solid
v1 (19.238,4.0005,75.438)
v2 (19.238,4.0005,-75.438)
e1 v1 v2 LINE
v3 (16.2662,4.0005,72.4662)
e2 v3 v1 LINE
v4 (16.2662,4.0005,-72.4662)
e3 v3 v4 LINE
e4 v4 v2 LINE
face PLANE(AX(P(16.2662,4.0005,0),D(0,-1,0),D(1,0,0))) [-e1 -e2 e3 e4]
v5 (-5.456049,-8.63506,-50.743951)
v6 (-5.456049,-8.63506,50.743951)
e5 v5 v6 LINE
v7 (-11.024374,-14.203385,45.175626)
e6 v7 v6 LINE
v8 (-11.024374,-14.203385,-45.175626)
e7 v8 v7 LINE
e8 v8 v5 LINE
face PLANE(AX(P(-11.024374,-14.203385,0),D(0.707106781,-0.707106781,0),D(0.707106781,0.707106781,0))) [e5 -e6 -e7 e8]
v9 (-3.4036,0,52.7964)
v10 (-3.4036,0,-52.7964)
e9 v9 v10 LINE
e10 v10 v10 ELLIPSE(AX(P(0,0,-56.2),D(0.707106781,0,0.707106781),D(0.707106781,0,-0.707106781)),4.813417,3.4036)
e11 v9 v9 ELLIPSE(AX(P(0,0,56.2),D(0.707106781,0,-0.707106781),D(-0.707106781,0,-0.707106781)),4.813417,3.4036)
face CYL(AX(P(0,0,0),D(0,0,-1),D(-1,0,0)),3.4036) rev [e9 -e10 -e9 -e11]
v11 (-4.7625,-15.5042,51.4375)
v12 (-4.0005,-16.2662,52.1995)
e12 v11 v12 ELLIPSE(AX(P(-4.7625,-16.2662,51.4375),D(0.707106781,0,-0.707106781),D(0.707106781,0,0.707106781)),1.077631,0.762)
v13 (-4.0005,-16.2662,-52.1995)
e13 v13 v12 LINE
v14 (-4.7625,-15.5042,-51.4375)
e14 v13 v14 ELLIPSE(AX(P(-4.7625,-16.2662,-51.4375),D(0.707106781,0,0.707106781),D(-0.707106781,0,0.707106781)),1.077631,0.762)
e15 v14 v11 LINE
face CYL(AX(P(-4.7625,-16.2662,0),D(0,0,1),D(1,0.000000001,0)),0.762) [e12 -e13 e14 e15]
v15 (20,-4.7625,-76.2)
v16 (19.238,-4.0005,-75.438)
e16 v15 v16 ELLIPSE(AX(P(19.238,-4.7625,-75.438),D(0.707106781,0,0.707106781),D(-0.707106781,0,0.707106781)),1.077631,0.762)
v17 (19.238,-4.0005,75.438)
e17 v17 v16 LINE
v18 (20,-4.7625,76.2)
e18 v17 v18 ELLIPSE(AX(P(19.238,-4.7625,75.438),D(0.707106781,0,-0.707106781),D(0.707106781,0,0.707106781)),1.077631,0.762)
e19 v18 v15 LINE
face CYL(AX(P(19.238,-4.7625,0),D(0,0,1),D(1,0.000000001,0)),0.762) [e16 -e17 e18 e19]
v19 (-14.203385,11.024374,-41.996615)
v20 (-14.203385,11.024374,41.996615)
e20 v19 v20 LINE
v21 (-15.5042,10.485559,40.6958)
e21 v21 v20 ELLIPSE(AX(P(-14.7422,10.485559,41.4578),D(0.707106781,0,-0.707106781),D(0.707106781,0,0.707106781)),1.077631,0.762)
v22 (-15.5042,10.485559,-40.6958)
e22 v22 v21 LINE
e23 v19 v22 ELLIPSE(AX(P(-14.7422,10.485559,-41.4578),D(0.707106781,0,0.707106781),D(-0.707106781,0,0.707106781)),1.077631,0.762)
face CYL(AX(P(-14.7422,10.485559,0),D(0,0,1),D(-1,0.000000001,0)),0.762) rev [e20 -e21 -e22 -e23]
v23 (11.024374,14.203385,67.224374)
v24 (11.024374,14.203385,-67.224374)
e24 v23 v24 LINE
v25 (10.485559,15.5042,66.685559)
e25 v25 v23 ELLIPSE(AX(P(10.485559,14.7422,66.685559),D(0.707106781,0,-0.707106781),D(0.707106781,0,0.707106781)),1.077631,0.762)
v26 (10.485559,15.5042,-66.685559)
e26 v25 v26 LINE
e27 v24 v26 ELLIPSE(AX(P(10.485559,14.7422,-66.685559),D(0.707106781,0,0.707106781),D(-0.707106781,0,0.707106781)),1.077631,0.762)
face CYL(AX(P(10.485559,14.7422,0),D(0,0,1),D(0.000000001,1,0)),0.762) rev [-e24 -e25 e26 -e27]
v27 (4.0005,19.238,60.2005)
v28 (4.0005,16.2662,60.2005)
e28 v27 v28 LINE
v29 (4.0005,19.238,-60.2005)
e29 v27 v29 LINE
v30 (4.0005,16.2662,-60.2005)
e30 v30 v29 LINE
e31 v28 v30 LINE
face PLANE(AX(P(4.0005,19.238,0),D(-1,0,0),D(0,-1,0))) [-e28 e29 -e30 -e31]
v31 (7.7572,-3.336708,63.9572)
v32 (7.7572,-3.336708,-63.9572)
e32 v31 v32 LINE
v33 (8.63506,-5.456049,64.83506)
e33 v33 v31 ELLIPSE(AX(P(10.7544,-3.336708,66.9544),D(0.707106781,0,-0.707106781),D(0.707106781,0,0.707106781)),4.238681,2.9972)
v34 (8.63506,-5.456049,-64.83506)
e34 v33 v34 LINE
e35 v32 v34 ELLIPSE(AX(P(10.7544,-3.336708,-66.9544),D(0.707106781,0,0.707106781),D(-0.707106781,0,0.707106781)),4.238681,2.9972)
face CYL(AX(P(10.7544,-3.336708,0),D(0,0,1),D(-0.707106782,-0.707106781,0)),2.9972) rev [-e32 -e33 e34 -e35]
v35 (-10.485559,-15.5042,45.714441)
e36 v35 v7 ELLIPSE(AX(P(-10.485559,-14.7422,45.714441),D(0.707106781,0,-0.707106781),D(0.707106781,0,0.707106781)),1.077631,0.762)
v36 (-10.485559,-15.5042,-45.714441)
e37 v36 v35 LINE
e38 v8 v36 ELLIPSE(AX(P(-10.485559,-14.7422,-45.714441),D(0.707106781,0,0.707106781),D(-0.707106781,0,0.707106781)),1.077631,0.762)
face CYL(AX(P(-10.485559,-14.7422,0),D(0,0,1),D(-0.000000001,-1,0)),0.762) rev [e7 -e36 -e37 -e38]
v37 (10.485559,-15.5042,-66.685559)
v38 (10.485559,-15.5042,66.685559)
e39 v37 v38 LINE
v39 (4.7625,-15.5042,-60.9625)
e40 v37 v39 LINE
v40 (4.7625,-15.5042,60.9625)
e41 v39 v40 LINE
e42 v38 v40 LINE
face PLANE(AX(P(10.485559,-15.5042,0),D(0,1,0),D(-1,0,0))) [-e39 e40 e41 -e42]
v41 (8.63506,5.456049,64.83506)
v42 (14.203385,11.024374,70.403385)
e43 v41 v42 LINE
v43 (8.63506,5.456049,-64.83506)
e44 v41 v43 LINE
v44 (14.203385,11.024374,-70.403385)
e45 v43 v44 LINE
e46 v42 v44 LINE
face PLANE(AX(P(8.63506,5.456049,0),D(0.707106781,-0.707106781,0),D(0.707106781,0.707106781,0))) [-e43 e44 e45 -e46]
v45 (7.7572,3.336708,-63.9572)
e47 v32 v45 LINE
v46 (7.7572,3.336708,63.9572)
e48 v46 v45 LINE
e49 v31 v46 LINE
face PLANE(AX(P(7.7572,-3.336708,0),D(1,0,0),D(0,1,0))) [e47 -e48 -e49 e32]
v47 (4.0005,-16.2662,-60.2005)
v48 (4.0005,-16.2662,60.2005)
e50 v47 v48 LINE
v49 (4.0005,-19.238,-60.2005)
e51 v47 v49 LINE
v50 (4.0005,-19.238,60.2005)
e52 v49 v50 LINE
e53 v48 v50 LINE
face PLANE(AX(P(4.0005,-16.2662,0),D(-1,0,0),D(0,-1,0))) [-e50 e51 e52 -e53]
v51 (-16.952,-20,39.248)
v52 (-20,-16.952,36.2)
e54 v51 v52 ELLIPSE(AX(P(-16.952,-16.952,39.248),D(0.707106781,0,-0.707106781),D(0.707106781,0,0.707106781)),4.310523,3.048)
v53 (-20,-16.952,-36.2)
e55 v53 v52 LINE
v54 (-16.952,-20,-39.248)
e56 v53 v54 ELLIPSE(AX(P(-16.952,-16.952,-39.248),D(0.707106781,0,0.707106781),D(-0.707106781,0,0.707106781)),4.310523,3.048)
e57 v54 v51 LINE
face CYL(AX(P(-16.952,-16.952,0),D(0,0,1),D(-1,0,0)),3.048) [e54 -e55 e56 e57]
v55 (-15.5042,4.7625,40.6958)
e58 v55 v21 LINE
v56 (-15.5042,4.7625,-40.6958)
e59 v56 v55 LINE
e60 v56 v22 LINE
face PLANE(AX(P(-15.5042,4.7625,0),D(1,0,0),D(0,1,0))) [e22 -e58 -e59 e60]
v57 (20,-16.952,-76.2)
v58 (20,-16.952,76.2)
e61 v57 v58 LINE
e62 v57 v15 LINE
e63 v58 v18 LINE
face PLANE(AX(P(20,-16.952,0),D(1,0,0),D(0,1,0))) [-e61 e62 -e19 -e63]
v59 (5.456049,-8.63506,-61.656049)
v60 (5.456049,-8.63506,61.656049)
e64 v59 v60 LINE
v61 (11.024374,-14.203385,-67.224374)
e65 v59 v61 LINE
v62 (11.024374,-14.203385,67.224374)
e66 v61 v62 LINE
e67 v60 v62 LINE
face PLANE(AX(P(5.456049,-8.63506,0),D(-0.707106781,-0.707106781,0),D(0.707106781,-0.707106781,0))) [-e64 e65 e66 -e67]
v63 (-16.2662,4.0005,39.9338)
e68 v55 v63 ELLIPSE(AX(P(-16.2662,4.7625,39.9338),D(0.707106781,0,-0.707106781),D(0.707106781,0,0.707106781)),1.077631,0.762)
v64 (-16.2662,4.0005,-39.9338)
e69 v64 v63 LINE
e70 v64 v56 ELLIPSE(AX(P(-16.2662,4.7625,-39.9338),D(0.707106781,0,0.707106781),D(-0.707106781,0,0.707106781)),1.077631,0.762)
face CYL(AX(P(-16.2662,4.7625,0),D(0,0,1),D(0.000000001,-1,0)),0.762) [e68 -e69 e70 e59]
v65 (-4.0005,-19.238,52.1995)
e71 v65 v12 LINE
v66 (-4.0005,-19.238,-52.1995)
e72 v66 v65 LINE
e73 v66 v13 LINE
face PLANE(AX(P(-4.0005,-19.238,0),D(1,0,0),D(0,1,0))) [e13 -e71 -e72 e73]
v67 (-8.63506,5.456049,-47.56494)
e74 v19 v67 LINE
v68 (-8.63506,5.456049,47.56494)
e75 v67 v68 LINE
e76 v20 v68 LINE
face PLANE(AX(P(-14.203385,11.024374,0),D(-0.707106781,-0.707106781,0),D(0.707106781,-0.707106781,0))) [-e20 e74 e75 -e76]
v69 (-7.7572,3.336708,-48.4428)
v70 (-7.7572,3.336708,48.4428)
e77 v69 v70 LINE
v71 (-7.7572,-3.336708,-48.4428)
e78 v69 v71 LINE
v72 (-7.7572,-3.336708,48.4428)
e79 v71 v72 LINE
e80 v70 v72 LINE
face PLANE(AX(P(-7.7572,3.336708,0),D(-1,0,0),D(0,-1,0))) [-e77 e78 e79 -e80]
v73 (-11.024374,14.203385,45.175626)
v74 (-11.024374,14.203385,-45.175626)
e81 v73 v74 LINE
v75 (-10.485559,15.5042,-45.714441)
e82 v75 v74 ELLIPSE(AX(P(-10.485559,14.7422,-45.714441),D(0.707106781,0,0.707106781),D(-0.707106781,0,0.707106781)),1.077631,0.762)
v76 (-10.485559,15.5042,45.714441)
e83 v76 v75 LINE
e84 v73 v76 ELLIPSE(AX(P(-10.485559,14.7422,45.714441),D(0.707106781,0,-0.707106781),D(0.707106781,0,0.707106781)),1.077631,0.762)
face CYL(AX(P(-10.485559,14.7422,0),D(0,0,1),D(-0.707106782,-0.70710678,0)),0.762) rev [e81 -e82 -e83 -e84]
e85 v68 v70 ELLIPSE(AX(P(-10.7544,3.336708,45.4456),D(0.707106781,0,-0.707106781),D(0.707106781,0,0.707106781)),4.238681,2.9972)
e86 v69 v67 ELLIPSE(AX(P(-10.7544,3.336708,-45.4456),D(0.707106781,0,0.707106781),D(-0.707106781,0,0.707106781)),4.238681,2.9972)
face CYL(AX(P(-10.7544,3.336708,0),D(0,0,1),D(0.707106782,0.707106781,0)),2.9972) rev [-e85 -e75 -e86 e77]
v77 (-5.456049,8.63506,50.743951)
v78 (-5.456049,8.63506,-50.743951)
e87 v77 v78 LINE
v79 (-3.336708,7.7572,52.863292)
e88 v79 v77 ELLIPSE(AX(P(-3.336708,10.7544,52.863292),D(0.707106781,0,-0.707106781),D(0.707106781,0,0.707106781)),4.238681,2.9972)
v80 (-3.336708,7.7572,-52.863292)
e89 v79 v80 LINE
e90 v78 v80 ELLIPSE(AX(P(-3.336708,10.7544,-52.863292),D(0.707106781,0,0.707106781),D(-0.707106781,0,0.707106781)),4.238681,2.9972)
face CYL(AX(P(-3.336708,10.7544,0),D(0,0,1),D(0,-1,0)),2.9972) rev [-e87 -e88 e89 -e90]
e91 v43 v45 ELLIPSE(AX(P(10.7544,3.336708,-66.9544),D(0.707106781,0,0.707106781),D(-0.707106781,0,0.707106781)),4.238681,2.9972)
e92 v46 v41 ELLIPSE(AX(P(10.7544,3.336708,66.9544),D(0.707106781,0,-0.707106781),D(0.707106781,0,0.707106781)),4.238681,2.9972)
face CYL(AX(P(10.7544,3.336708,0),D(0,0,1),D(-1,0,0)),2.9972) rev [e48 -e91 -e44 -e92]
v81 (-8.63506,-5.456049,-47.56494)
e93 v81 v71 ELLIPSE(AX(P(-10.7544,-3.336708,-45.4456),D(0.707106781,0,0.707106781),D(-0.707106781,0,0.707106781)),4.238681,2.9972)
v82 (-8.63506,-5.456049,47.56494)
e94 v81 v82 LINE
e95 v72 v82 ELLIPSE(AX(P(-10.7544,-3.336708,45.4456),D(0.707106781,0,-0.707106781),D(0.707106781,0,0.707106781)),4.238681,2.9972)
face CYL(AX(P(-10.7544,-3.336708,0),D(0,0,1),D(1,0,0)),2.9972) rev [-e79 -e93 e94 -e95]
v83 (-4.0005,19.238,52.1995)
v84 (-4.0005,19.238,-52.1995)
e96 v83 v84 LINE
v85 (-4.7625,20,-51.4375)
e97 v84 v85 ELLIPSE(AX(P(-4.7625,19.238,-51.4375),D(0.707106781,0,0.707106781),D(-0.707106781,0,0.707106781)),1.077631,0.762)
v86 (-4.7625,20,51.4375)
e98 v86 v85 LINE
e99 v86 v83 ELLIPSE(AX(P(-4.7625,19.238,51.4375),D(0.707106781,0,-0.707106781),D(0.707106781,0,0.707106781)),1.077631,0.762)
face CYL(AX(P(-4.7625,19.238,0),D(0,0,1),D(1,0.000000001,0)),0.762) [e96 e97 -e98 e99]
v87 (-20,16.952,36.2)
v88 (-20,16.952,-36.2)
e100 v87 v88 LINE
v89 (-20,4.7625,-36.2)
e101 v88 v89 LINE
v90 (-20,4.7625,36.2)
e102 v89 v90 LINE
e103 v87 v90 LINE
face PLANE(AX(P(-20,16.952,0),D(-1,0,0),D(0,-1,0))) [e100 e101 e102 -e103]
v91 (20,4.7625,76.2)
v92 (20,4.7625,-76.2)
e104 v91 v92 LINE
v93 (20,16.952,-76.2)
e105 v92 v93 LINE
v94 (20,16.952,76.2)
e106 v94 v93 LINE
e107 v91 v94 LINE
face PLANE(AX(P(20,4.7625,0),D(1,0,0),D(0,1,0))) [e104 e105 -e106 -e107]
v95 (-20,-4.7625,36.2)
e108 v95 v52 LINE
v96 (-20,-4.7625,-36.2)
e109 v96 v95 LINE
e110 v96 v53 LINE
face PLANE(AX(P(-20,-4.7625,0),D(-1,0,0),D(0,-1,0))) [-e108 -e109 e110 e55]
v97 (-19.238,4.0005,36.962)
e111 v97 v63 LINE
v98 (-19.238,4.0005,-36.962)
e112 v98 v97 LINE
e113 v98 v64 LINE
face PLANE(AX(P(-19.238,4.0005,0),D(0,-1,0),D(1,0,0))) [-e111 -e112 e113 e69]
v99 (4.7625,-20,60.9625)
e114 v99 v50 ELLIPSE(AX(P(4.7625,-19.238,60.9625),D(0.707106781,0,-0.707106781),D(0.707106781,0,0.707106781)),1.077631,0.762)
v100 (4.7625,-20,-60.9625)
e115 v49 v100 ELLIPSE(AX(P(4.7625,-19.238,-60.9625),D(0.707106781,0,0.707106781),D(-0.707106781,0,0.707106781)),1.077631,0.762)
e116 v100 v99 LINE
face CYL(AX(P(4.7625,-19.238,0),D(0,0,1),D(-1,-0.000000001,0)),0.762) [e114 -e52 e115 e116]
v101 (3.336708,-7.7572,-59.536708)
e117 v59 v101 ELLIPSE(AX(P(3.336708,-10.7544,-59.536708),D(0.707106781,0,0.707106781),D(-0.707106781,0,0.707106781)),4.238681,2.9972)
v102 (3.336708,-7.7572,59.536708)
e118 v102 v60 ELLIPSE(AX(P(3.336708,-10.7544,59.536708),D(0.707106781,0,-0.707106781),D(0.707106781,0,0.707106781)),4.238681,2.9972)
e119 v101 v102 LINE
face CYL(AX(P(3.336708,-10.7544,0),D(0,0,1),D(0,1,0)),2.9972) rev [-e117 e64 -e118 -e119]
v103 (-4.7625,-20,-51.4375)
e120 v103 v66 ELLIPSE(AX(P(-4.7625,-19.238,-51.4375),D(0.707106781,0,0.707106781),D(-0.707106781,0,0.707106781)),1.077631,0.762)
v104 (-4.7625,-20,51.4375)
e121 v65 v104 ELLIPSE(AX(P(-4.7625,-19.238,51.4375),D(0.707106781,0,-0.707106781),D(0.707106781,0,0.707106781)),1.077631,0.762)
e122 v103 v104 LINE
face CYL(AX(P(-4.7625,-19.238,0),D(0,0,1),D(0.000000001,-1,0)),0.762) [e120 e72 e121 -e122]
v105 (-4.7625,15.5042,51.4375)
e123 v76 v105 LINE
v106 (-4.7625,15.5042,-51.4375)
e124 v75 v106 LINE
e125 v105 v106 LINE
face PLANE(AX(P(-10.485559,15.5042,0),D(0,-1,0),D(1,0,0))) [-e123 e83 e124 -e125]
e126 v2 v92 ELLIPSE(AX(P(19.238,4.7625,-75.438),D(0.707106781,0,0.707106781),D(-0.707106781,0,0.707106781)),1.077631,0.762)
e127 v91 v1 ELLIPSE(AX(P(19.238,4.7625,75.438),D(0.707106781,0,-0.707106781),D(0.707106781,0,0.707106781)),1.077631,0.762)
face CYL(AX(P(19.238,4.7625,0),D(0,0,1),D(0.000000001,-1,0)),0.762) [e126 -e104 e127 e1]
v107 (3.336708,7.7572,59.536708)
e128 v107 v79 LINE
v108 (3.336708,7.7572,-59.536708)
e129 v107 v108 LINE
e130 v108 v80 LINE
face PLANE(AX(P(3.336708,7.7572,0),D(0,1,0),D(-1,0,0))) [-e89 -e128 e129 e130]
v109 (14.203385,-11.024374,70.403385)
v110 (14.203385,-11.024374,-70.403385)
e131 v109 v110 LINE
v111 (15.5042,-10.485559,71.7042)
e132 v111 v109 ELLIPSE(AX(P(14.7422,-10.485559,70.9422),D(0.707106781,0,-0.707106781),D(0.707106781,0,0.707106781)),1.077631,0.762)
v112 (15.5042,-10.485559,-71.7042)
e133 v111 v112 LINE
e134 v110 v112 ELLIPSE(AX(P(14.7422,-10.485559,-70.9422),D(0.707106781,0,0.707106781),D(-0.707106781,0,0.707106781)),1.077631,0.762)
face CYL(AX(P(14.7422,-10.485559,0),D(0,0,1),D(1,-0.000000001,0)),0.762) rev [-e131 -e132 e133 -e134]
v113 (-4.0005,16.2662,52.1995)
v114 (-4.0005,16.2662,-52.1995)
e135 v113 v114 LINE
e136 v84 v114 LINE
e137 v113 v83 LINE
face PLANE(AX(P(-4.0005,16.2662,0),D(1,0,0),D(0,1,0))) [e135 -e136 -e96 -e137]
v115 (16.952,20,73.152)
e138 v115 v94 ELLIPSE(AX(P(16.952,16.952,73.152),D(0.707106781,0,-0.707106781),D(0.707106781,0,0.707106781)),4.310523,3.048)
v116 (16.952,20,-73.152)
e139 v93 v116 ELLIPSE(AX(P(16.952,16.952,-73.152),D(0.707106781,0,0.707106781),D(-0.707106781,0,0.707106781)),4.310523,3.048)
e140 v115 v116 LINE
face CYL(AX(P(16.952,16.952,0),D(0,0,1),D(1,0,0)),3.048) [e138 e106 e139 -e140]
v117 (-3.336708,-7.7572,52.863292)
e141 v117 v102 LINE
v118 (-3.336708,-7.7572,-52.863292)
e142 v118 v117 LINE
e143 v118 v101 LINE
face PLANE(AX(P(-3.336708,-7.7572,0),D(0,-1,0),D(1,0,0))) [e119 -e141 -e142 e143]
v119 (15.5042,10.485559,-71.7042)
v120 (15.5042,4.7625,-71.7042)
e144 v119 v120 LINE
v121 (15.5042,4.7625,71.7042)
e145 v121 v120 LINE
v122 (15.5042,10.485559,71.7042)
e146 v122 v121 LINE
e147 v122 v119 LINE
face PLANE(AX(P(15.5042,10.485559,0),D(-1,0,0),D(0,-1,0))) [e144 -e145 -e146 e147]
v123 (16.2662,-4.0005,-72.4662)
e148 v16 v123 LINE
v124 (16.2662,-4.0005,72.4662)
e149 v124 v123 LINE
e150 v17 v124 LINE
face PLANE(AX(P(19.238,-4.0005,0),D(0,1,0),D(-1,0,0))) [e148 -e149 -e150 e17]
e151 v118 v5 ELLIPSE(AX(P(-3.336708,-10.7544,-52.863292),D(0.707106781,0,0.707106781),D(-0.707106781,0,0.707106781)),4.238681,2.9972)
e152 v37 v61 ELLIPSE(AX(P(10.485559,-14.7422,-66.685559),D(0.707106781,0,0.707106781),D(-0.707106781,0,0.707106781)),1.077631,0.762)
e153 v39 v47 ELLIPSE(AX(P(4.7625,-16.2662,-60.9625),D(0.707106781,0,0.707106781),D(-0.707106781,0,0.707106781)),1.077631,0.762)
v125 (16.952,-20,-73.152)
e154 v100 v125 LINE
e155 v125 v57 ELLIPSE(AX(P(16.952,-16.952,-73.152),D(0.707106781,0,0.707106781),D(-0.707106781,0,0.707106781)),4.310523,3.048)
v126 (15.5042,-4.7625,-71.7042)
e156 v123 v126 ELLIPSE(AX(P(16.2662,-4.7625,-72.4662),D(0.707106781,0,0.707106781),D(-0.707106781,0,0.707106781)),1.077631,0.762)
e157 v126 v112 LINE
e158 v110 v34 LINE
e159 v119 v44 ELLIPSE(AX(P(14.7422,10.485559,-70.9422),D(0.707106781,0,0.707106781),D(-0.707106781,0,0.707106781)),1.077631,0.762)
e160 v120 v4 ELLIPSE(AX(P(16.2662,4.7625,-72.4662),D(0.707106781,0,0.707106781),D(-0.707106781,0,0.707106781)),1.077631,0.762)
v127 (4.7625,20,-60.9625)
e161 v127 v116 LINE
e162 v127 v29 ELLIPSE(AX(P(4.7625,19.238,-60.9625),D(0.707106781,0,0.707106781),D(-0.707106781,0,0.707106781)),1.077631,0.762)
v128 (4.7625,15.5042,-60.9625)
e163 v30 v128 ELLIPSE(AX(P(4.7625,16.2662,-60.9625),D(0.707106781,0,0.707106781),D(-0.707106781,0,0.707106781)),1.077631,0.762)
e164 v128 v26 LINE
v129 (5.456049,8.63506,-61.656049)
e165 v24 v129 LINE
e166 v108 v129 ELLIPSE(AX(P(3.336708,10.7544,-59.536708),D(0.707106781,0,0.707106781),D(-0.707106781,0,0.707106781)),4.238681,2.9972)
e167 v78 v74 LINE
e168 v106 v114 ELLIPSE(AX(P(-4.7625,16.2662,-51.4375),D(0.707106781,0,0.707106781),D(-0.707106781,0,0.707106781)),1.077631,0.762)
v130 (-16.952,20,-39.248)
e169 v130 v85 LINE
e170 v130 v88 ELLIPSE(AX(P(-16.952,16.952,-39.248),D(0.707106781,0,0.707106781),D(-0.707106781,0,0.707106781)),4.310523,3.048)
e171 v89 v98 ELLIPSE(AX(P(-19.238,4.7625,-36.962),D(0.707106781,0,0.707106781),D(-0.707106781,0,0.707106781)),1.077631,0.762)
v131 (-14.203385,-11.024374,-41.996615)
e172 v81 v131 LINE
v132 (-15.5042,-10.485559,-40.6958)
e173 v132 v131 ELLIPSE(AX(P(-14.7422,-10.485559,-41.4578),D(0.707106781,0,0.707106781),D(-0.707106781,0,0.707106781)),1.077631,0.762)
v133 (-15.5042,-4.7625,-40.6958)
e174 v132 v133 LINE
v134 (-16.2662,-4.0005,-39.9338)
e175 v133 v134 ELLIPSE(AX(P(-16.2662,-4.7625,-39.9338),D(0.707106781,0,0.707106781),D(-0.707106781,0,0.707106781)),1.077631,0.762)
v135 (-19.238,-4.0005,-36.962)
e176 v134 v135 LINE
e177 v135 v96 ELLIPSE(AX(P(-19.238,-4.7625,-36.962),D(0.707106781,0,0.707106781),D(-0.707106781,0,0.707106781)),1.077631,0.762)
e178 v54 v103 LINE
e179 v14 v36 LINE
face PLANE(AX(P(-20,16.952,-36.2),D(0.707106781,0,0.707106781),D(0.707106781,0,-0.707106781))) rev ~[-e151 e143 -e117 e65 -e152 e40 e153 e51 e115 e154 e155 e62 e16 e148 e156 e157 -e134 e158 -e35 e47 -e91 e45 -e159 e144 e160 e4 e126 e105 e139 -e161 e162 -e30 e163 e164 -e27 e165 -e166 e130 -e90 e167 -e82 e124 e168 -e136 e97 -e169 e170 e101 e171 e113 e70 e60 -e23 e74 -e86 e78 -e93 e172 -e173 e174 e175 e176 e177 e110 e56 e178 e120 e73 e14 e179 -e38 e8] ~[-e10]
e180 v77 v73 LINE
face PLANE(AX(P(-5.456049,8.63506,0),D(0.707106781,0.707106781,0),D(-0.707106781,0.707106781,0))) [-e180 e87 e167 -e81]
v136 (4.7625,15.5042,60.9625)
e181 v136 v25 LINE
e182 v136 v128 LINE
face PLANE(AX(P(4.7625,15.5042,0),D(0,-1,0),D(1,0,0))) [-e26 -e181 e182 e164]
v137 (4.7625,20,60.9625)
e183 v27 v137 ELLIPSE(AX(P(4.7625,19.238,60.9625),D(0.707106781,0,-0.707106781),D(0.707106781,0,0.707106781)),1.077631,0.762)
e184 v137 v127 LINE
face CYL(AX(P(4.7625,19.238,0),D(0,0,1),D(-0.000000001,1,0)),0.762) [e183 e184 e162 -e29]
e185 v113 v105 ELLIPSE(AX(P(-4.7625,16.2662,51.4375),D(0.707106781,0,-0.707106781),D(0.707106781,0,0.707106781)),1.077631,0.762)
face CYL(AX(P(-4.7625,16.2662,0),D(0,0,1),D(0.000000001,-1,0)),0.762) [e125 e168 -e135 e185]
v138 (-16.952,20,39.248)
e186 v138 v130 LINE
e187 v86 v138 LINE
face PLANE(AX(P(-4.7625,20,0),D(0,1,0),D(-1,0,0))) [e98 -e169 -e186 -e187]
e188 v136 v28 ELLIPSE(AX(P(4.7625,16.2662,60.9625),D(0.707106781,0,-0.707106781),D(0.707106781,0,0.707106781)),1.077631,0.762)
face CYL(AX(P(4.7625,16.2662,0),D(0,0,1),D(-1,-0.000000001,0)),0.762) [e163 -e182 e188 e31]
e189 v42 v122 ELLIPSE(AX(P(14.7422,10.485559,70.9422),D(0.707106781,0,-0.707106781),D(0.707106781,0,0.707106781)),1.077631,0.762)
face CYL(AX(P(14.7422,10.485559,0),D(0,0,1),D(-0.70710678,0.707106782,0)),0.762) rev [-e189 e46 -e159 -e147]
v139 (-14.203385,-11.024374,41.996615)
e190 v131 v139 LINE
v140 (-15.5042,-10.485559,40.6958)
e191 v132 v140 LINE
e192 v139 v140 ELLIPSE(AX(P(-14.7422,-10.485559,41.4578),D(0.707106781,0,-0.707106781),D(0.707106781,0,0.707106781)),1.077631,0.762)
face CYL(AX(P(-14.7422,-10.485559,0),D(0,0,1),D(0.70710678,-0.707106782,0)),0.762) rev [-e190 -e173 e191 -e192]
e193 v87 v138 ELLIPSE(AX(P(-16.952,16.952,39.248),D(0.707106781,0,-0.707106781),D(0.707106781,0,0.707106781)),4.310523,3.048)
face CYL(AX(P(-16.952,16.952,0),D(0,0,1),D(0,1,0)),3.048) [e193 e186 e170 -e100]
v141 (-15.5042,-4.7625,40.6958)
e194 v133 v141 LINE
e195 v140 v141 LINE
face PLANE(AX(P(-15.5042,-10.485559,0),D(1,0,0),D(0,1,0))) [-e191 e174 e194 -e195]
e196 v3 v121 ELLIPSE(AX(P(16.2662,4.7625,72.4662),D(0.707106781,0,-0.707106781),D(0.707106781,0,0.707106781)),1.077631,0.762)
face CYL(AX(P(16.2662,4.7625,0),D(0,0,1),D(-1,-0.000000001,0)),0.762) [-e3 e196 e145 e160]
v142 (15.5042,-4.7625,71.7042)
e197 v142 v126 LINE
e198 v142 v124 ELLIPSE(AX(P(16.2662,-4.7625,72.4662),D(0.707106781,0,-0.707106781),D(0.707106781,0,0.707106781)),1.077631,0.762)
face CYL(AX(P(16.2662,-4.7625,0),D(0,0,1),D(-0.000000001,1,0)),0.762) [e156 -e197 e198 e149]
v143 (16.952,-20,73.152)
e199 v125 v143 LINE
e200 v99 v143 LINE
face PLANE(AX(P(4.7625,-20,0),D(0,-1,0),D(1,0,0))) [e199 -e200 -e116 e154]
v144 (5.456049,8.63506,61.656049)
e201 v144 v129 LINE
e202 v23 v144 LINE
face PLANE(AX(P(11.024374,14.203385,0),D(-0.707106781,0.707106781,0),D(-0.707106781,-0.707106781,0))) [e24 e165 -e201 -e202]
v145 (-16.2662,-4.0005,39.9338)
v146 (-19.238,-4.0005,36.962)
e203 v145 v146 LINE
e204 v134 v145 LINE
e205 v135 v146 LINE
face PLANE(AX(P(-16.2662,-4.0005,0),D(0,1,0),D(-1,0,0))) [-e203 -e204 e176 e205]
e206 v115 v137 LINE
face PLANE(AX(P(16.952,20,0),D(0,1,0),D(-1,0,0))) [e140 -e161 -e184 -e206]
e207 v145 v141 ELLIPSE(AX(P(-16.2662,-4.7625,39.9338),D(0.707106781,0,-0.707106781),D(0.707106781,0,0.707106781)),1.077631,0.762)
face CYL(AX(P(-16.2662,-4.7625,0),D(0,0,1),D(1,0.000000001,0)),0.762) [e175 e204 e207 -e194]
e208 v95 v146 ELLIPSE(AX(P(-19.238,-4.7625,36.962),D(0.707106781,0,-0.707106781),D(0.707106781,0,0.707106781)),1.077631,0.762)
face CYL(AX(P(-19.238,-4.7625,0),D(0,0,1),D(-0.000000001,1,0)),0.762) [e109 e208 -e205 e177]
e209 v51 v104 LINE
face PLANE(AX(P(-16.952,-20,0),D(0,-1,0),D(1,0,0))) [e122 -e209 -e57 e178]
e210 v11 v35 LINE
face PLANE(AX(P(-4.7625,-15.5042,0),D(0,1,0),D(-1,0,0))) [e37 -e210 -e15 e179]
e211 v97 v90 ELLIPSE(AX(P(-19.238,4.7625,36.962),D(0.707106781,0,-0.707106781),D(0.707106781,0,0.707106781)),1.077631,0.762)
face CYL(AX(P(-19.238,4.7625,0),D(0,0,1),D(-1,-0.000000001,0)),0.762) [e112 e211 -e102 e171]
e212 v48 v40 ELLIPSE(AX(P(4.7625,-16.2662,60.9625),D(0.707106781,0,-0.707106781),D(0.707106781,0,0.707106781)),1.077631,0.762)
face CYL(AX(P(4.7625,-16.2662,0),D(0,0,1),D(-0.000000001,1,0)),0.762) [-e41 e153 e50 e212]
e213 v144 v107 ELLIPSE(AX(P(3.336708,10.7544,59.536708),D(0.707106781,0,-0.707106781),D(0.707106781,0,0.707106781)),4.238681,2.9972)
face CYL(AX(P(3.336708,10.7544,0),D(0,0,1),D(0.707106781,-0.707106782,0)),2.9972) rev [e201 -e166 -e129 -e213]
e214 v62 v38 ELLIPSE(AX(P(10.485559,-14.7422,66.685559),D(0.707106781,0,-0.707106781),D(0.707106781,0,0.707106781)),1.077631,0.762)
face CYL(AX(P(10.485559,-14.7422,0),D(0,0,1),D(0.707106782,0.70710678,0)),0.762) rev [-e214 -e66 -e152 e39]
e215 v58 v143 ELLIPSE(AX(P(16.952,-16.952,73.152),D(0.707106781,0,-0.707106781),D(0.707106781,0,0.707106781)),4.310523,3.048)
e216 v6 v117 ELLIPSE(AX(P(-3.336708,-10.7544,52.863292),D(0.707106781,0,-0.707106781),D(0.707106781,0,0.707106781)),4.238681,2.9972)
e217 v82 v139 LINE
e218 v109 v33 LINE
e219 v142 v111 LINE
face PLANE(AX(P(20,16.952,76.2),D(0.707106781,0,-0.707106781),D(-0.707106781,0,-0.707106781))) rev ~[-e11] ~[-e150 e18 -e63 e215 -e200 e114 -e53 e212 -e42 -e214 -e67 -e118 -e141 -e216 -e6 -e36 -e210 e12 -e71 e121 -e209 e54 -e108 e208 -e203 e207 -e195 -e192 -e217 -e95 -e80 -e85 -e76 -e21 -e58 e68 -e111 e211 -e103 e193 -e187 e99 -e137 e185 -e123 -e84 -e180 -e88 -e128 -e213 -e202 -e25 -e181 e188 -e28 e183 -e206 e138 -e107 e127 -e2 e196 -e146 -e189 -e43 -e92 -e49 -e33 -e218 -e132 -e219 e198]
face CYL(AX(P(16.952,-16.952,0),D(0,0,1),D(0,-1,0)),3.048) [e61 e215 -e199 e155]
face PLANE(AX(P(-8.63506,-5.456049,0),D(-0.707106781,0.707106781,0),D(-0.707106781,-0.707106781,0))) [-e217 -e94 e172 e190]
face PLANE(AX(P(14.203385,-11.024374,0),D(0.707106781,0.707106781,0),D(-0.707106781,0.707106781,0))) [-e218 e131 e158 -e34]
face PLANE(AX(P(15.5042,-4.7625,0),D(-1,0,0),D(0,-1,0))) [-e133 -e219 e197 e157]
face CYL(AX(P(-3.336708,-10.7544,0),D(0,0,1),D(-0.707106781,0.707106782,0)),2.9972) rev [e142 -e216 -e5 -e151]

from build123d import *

# Parameters (mm, degrees)
SKETCH1_R          = 3.4036
EXTRUDE1_DEPTH     = 76.2
CUT_EXTRUDE1_DEPTH = 88.016609357
CUT_EXTRUDE2_DEPTH = 88.016609357
CUT_EXTRUDE3_REACH = 89.017
CUT_EXTRUDE5_DEPTH = 88.016609357


with BuildPart() as part:
    # Sketch1 → Extrude1 (new, symmetric)
    with BuildSketch(Plane.XY):
        with BuildLine():
            Line((-20, 16.952), (-20, 4.7625))
            ThreePointArc((-20, 4.7625), (-19.776815367, 4.223684633), (-19.238, 4.0005))
            Line((-19.238, 4.0005), (-16.2662, 4.0005))
            ThreePointArc((-16.2662, 4.0005), (-15.727384633, 4.223684633), (-15.5042, 4.7625))
            Line((-15.5042, 4.7625), (-15.5042, 10.485558599))
            ThreePointArc((-15.5042, 10.485558599), (-15.033804775, 11.189554802), (-14.203384633, 11.024373966))
            Line((-14.203384633, 11.024373966), (-8.635059555, 5.456048889))
            ThreePointArc((-8.635059555, 5.456048889), (-7.985348265, 4.483687227), (-7.7572, 3.336708444))
            Line((-7.7572, 3.336708444), (-7.7572, -3.336708444))
            ThreePointArc((-7.7572, -3.336708444), (-7.985348265, -4.483687227), (-8.635059555, -5.456048889))
            Line((-8.635059555, -5.456048889), (-14.203384633, -11.024373966))
            ThreePointArc((-14.203384633, -11.024373966), (-15.033804775, -11.189554802), (-15.5042, -10.485558599))
            Line((-15.5042, -10.485558599), (-15.5042, -4.7625))
            ThreePointArc((-15.5042, -4.7625), (-15.727384633, -4.223684633), (-16.2662, -4.0005))
            Line((-16.2662, -4.0005), (-19.238, -4.0005))
            ThreePointArc((-19.238, -4.0005), (-19.776815367, -4.223684633), (-20, -4.7625))
            Line((-20, -4.7625), (-20, -16.952))
            ThreePointArc((-20, -16.952), (-19.107261469, -19.107261469), (-16.952, -20))
            Line((-16.952, -20), (-4.7625, -20))
            ThreePointArc((-4.7625, -20), (-4.223684633, -19.776815367), (-4.0005, -19.238))
            Line((-4.0005, -19.238), (-4.0005, -16.2662))
            ThreePointArc((-4.0005, -16.2662), (-4.223684633, -15.727384633), (-4.7625, -15.5042))
            Line((-4.7625, -15.5042), (-10.485558599, -15.5042))
            ThreePointArc((-10.485558599, -15.5042), (-11.189554802, -15.033804775), (-11.024373966, -14.203384633))
            Line((-11.024373966, -14.203384633), (-5.456048889, -8.635059555))
            ThreePointArc((-5.456048889, -8.635059555), (-4.483687227, -7.985348265), (-3.336708444, -7.7572))
            Line((-3.336708444, -7.7572), (3.336708444, -7.7572))
            ThreePointArc((3.336708444, -7.7572), (4.483687227, -7.985348265), (5.456048889, -8.635059555))
            Line((5.456048889, -8.635059555), (11.024373966, -14.203384633))
            ThreePointArc((11.024373966, -14.203384633), (11.189554802, -15.033804775), (10.485558599, -15.5042))
            Line((10.485558599, -15.5042), (4.7625, -15.5042))
            ThreePointArc((4.7625, -15.5042), (4.223684633, -15.727384633), (4.0005, -16.2662))
            Line((4.0005, -16.2662), (4.0005, -19.238))
            ThreePointArc((4.0005, -19.238), (4.223684633, -19.776815367), (4.7625, -20))
            Line((4.7625, -20), (16.952, -20))
            ThreePointArc((16.952, -20), (19.107261469, -19.107261469), (20, -16.952))
            Line((20, -16.952), (20, -4.7625))
            ThreePointArc((20, -4.7625), (19.776815367, -4.223684633), (19.238, -4.0005))
            Line((19.238, -4.0005), (16.2662, -4.0005))
            ThreePointArc((16.2662, -4.0005), (15.727384633, -4.223684633), (15.5042, -4.7625))
            Line((15.5042, -4.7625), (15.5042, -10.485558599))
            ThreePointArc((15.5042, -10.485558599), (15.033804775, -11.189554802), (14.203384633, -11.024373966))
            Line((14.203384633, -11.024373966), (8.635059555, -5.456048889))
            ThreePointArc((8.635059555, -5.456048889), (7.985348265, -4.483687227), (7.7572, -3.336708444))
            Line((7.7572, -3.336708444), (7.7572, 3.336708444))
            ThreePointArc((7.7572, 3.336708444), (7.985348265, 4.483687227), (8.635059555, 5.456048889))
            Line((8.635059555, 5.456048889), (14.203384633, 11.024373966))
            ThreePointArc((14.203384633, 11.024373966), (15.033804775, 11.189554802), (15.5042, 10.485558599))
            Line((15.5042, 10.485558599), (15.5042, 4.7625))
            ThreePointArc((15.5042, 4.7625), (15.727384633, 4.223684633), (16.2662, 4.0005))
            Line((16.2662, 4.0005), (19.238, 4.0005))
            ThreePointArc((19.238, 4.0005), (19.776815367, 4.223684633), (20, 4.7625))
            Line((20, 4.7625), (20, 16.952))
            ThreePointArc((20, 16.952), (19.107261469, 19.107261469), (16.952, 20))
            Line((16.952, 20), (4.7625, 20))
            ThreePointArc((4.7625, 20), (4.223684633, 19.776815367), (4.0005, 19.238))
            Line((4.0005, 19.238), (4.0005, 16.2662))
            ThreePointArc((4.0005, 16.2662), (4.223684633, 15.727384633), (4.7625, 15.5042))
            Line((4.7625, 15.5042), (10.485558599, 15.5042))
            ThreePointArc((10.485558599, 15.5042), (11.189554802, 15.033804775), (11.024373966, 14.203384633))
            Line((11.024373966, 14.203384633), (5.456048889, 8.635059555))
            ThreePointArc((5.456048889, 8.635059555), (4.483687227, 7.985348265), (3.336708444, 7.7572))
            Line((3.336708444, 7.7572), (-3.336708444, 7.7572))
            ThreePointArc((-3.336708444, 7.7572), (-4.483687227, 7.985348265), (-5.456048889, 8.635059555))
            Line((-5.456048889, 8.635059555), (-11.024373966, 14.203384633))
            ThreePointArc((-11.024373966, 14.203384633), (-11.189554802, 15.033804775), (-10.485558599, 15.5042))
            Line((-10.485558599, 15.5042), (-4.7625, 15.5042))
            ThreePointArc((-4.7625, 15.5042), (-4.223684633, 15.727384633), (-4.0005, 16.2662))
            Line((-4.0005, 16.2662), (-4.0005, 19.238))
            ThreePointArc((-4.0005, 19.238), (-4.223684633, 19.776815367), (-4.7625, 20))
            Line((-4.7625, 20), (-16.952, 20))
            ThreePointArc((-16.952, 20), (-19.107261469, 19.107261469), (-20, 16.952))
        make_face()
        with Locations(Location((0, 0, 0), (0, 0, 180))):
            Circle(SKETCH1_R, mode=Mode.SUBTRACT)
    extrude(amount=EXTRUDE1_DEPTH, both=True)

    # Sketch3 → Cut-Extrude1 (cut, through all)
    with BuildSketch(Plane(origin=(0, 16.952, 0), x_dir=(1, 0, 0), z_dir=(0, 1, 0))):
        Polygon((20, -76.2), (-20, -36.2), (-20, -76.2), align=None)
    extrude(amount=-CUT_EXTRUDE1_DEPTH, mode=Mode.SUBTRACT)

    # Sketch4 → Cut-Extrude2 (cut, through all)
    with BuildSketch(Plane(origin=(0, 16.952, 0), x_dir=(-1, 0, 0), z_dir=(0, -1, 0))):
        Polygon((20, -36.2), (-20, -76.2), (20, -76.2), align=None)
    extrude(amount=-CUT_EXTRUDE2_DEPTH, mode=Mode.SUBTRACT)

    # Sketch5 → Cut-Extrude3 (cut, up to next)
    with BuildSketch(Plane(origin=(0, 16.952, 0), x_dir=(1, 0, 0), z_dir=(0, 1, 0)), mode=Mode.PRIVATE) as cut_extrude3_sk1:
        Polygon((20, 76.2), (-20, 76.2), (-20, 36.2), align=None)
    cut_extrude3_tool1 = extrude(cut_extrude3_sk1.sketch, amount=-CUT_EXTRUDE3_REACH, mode=Mode.PRIVATE) & part.part
    add(cut_extrude3_tool1.solids().sort_by_distance((-6.666667, 16.952, -62.866667))[0], mode=Mode.SUBTRACT)

    # Sketch7 → Cut-Extrude5 (cut, through all)
    with BuildSketch(Plane(origin=(0, 16.952, 0), x_dir=(-1, 0, 0), z_dir=(0, -1, 0))):
        Polygon((20, 36.2), (20, 76.2), (-20, 76.2), align=None)
    extrude(amount=-CUT_EXTRUDE5_DEPTH, mode=Mode.SUBTRACT)


solid = part.part
